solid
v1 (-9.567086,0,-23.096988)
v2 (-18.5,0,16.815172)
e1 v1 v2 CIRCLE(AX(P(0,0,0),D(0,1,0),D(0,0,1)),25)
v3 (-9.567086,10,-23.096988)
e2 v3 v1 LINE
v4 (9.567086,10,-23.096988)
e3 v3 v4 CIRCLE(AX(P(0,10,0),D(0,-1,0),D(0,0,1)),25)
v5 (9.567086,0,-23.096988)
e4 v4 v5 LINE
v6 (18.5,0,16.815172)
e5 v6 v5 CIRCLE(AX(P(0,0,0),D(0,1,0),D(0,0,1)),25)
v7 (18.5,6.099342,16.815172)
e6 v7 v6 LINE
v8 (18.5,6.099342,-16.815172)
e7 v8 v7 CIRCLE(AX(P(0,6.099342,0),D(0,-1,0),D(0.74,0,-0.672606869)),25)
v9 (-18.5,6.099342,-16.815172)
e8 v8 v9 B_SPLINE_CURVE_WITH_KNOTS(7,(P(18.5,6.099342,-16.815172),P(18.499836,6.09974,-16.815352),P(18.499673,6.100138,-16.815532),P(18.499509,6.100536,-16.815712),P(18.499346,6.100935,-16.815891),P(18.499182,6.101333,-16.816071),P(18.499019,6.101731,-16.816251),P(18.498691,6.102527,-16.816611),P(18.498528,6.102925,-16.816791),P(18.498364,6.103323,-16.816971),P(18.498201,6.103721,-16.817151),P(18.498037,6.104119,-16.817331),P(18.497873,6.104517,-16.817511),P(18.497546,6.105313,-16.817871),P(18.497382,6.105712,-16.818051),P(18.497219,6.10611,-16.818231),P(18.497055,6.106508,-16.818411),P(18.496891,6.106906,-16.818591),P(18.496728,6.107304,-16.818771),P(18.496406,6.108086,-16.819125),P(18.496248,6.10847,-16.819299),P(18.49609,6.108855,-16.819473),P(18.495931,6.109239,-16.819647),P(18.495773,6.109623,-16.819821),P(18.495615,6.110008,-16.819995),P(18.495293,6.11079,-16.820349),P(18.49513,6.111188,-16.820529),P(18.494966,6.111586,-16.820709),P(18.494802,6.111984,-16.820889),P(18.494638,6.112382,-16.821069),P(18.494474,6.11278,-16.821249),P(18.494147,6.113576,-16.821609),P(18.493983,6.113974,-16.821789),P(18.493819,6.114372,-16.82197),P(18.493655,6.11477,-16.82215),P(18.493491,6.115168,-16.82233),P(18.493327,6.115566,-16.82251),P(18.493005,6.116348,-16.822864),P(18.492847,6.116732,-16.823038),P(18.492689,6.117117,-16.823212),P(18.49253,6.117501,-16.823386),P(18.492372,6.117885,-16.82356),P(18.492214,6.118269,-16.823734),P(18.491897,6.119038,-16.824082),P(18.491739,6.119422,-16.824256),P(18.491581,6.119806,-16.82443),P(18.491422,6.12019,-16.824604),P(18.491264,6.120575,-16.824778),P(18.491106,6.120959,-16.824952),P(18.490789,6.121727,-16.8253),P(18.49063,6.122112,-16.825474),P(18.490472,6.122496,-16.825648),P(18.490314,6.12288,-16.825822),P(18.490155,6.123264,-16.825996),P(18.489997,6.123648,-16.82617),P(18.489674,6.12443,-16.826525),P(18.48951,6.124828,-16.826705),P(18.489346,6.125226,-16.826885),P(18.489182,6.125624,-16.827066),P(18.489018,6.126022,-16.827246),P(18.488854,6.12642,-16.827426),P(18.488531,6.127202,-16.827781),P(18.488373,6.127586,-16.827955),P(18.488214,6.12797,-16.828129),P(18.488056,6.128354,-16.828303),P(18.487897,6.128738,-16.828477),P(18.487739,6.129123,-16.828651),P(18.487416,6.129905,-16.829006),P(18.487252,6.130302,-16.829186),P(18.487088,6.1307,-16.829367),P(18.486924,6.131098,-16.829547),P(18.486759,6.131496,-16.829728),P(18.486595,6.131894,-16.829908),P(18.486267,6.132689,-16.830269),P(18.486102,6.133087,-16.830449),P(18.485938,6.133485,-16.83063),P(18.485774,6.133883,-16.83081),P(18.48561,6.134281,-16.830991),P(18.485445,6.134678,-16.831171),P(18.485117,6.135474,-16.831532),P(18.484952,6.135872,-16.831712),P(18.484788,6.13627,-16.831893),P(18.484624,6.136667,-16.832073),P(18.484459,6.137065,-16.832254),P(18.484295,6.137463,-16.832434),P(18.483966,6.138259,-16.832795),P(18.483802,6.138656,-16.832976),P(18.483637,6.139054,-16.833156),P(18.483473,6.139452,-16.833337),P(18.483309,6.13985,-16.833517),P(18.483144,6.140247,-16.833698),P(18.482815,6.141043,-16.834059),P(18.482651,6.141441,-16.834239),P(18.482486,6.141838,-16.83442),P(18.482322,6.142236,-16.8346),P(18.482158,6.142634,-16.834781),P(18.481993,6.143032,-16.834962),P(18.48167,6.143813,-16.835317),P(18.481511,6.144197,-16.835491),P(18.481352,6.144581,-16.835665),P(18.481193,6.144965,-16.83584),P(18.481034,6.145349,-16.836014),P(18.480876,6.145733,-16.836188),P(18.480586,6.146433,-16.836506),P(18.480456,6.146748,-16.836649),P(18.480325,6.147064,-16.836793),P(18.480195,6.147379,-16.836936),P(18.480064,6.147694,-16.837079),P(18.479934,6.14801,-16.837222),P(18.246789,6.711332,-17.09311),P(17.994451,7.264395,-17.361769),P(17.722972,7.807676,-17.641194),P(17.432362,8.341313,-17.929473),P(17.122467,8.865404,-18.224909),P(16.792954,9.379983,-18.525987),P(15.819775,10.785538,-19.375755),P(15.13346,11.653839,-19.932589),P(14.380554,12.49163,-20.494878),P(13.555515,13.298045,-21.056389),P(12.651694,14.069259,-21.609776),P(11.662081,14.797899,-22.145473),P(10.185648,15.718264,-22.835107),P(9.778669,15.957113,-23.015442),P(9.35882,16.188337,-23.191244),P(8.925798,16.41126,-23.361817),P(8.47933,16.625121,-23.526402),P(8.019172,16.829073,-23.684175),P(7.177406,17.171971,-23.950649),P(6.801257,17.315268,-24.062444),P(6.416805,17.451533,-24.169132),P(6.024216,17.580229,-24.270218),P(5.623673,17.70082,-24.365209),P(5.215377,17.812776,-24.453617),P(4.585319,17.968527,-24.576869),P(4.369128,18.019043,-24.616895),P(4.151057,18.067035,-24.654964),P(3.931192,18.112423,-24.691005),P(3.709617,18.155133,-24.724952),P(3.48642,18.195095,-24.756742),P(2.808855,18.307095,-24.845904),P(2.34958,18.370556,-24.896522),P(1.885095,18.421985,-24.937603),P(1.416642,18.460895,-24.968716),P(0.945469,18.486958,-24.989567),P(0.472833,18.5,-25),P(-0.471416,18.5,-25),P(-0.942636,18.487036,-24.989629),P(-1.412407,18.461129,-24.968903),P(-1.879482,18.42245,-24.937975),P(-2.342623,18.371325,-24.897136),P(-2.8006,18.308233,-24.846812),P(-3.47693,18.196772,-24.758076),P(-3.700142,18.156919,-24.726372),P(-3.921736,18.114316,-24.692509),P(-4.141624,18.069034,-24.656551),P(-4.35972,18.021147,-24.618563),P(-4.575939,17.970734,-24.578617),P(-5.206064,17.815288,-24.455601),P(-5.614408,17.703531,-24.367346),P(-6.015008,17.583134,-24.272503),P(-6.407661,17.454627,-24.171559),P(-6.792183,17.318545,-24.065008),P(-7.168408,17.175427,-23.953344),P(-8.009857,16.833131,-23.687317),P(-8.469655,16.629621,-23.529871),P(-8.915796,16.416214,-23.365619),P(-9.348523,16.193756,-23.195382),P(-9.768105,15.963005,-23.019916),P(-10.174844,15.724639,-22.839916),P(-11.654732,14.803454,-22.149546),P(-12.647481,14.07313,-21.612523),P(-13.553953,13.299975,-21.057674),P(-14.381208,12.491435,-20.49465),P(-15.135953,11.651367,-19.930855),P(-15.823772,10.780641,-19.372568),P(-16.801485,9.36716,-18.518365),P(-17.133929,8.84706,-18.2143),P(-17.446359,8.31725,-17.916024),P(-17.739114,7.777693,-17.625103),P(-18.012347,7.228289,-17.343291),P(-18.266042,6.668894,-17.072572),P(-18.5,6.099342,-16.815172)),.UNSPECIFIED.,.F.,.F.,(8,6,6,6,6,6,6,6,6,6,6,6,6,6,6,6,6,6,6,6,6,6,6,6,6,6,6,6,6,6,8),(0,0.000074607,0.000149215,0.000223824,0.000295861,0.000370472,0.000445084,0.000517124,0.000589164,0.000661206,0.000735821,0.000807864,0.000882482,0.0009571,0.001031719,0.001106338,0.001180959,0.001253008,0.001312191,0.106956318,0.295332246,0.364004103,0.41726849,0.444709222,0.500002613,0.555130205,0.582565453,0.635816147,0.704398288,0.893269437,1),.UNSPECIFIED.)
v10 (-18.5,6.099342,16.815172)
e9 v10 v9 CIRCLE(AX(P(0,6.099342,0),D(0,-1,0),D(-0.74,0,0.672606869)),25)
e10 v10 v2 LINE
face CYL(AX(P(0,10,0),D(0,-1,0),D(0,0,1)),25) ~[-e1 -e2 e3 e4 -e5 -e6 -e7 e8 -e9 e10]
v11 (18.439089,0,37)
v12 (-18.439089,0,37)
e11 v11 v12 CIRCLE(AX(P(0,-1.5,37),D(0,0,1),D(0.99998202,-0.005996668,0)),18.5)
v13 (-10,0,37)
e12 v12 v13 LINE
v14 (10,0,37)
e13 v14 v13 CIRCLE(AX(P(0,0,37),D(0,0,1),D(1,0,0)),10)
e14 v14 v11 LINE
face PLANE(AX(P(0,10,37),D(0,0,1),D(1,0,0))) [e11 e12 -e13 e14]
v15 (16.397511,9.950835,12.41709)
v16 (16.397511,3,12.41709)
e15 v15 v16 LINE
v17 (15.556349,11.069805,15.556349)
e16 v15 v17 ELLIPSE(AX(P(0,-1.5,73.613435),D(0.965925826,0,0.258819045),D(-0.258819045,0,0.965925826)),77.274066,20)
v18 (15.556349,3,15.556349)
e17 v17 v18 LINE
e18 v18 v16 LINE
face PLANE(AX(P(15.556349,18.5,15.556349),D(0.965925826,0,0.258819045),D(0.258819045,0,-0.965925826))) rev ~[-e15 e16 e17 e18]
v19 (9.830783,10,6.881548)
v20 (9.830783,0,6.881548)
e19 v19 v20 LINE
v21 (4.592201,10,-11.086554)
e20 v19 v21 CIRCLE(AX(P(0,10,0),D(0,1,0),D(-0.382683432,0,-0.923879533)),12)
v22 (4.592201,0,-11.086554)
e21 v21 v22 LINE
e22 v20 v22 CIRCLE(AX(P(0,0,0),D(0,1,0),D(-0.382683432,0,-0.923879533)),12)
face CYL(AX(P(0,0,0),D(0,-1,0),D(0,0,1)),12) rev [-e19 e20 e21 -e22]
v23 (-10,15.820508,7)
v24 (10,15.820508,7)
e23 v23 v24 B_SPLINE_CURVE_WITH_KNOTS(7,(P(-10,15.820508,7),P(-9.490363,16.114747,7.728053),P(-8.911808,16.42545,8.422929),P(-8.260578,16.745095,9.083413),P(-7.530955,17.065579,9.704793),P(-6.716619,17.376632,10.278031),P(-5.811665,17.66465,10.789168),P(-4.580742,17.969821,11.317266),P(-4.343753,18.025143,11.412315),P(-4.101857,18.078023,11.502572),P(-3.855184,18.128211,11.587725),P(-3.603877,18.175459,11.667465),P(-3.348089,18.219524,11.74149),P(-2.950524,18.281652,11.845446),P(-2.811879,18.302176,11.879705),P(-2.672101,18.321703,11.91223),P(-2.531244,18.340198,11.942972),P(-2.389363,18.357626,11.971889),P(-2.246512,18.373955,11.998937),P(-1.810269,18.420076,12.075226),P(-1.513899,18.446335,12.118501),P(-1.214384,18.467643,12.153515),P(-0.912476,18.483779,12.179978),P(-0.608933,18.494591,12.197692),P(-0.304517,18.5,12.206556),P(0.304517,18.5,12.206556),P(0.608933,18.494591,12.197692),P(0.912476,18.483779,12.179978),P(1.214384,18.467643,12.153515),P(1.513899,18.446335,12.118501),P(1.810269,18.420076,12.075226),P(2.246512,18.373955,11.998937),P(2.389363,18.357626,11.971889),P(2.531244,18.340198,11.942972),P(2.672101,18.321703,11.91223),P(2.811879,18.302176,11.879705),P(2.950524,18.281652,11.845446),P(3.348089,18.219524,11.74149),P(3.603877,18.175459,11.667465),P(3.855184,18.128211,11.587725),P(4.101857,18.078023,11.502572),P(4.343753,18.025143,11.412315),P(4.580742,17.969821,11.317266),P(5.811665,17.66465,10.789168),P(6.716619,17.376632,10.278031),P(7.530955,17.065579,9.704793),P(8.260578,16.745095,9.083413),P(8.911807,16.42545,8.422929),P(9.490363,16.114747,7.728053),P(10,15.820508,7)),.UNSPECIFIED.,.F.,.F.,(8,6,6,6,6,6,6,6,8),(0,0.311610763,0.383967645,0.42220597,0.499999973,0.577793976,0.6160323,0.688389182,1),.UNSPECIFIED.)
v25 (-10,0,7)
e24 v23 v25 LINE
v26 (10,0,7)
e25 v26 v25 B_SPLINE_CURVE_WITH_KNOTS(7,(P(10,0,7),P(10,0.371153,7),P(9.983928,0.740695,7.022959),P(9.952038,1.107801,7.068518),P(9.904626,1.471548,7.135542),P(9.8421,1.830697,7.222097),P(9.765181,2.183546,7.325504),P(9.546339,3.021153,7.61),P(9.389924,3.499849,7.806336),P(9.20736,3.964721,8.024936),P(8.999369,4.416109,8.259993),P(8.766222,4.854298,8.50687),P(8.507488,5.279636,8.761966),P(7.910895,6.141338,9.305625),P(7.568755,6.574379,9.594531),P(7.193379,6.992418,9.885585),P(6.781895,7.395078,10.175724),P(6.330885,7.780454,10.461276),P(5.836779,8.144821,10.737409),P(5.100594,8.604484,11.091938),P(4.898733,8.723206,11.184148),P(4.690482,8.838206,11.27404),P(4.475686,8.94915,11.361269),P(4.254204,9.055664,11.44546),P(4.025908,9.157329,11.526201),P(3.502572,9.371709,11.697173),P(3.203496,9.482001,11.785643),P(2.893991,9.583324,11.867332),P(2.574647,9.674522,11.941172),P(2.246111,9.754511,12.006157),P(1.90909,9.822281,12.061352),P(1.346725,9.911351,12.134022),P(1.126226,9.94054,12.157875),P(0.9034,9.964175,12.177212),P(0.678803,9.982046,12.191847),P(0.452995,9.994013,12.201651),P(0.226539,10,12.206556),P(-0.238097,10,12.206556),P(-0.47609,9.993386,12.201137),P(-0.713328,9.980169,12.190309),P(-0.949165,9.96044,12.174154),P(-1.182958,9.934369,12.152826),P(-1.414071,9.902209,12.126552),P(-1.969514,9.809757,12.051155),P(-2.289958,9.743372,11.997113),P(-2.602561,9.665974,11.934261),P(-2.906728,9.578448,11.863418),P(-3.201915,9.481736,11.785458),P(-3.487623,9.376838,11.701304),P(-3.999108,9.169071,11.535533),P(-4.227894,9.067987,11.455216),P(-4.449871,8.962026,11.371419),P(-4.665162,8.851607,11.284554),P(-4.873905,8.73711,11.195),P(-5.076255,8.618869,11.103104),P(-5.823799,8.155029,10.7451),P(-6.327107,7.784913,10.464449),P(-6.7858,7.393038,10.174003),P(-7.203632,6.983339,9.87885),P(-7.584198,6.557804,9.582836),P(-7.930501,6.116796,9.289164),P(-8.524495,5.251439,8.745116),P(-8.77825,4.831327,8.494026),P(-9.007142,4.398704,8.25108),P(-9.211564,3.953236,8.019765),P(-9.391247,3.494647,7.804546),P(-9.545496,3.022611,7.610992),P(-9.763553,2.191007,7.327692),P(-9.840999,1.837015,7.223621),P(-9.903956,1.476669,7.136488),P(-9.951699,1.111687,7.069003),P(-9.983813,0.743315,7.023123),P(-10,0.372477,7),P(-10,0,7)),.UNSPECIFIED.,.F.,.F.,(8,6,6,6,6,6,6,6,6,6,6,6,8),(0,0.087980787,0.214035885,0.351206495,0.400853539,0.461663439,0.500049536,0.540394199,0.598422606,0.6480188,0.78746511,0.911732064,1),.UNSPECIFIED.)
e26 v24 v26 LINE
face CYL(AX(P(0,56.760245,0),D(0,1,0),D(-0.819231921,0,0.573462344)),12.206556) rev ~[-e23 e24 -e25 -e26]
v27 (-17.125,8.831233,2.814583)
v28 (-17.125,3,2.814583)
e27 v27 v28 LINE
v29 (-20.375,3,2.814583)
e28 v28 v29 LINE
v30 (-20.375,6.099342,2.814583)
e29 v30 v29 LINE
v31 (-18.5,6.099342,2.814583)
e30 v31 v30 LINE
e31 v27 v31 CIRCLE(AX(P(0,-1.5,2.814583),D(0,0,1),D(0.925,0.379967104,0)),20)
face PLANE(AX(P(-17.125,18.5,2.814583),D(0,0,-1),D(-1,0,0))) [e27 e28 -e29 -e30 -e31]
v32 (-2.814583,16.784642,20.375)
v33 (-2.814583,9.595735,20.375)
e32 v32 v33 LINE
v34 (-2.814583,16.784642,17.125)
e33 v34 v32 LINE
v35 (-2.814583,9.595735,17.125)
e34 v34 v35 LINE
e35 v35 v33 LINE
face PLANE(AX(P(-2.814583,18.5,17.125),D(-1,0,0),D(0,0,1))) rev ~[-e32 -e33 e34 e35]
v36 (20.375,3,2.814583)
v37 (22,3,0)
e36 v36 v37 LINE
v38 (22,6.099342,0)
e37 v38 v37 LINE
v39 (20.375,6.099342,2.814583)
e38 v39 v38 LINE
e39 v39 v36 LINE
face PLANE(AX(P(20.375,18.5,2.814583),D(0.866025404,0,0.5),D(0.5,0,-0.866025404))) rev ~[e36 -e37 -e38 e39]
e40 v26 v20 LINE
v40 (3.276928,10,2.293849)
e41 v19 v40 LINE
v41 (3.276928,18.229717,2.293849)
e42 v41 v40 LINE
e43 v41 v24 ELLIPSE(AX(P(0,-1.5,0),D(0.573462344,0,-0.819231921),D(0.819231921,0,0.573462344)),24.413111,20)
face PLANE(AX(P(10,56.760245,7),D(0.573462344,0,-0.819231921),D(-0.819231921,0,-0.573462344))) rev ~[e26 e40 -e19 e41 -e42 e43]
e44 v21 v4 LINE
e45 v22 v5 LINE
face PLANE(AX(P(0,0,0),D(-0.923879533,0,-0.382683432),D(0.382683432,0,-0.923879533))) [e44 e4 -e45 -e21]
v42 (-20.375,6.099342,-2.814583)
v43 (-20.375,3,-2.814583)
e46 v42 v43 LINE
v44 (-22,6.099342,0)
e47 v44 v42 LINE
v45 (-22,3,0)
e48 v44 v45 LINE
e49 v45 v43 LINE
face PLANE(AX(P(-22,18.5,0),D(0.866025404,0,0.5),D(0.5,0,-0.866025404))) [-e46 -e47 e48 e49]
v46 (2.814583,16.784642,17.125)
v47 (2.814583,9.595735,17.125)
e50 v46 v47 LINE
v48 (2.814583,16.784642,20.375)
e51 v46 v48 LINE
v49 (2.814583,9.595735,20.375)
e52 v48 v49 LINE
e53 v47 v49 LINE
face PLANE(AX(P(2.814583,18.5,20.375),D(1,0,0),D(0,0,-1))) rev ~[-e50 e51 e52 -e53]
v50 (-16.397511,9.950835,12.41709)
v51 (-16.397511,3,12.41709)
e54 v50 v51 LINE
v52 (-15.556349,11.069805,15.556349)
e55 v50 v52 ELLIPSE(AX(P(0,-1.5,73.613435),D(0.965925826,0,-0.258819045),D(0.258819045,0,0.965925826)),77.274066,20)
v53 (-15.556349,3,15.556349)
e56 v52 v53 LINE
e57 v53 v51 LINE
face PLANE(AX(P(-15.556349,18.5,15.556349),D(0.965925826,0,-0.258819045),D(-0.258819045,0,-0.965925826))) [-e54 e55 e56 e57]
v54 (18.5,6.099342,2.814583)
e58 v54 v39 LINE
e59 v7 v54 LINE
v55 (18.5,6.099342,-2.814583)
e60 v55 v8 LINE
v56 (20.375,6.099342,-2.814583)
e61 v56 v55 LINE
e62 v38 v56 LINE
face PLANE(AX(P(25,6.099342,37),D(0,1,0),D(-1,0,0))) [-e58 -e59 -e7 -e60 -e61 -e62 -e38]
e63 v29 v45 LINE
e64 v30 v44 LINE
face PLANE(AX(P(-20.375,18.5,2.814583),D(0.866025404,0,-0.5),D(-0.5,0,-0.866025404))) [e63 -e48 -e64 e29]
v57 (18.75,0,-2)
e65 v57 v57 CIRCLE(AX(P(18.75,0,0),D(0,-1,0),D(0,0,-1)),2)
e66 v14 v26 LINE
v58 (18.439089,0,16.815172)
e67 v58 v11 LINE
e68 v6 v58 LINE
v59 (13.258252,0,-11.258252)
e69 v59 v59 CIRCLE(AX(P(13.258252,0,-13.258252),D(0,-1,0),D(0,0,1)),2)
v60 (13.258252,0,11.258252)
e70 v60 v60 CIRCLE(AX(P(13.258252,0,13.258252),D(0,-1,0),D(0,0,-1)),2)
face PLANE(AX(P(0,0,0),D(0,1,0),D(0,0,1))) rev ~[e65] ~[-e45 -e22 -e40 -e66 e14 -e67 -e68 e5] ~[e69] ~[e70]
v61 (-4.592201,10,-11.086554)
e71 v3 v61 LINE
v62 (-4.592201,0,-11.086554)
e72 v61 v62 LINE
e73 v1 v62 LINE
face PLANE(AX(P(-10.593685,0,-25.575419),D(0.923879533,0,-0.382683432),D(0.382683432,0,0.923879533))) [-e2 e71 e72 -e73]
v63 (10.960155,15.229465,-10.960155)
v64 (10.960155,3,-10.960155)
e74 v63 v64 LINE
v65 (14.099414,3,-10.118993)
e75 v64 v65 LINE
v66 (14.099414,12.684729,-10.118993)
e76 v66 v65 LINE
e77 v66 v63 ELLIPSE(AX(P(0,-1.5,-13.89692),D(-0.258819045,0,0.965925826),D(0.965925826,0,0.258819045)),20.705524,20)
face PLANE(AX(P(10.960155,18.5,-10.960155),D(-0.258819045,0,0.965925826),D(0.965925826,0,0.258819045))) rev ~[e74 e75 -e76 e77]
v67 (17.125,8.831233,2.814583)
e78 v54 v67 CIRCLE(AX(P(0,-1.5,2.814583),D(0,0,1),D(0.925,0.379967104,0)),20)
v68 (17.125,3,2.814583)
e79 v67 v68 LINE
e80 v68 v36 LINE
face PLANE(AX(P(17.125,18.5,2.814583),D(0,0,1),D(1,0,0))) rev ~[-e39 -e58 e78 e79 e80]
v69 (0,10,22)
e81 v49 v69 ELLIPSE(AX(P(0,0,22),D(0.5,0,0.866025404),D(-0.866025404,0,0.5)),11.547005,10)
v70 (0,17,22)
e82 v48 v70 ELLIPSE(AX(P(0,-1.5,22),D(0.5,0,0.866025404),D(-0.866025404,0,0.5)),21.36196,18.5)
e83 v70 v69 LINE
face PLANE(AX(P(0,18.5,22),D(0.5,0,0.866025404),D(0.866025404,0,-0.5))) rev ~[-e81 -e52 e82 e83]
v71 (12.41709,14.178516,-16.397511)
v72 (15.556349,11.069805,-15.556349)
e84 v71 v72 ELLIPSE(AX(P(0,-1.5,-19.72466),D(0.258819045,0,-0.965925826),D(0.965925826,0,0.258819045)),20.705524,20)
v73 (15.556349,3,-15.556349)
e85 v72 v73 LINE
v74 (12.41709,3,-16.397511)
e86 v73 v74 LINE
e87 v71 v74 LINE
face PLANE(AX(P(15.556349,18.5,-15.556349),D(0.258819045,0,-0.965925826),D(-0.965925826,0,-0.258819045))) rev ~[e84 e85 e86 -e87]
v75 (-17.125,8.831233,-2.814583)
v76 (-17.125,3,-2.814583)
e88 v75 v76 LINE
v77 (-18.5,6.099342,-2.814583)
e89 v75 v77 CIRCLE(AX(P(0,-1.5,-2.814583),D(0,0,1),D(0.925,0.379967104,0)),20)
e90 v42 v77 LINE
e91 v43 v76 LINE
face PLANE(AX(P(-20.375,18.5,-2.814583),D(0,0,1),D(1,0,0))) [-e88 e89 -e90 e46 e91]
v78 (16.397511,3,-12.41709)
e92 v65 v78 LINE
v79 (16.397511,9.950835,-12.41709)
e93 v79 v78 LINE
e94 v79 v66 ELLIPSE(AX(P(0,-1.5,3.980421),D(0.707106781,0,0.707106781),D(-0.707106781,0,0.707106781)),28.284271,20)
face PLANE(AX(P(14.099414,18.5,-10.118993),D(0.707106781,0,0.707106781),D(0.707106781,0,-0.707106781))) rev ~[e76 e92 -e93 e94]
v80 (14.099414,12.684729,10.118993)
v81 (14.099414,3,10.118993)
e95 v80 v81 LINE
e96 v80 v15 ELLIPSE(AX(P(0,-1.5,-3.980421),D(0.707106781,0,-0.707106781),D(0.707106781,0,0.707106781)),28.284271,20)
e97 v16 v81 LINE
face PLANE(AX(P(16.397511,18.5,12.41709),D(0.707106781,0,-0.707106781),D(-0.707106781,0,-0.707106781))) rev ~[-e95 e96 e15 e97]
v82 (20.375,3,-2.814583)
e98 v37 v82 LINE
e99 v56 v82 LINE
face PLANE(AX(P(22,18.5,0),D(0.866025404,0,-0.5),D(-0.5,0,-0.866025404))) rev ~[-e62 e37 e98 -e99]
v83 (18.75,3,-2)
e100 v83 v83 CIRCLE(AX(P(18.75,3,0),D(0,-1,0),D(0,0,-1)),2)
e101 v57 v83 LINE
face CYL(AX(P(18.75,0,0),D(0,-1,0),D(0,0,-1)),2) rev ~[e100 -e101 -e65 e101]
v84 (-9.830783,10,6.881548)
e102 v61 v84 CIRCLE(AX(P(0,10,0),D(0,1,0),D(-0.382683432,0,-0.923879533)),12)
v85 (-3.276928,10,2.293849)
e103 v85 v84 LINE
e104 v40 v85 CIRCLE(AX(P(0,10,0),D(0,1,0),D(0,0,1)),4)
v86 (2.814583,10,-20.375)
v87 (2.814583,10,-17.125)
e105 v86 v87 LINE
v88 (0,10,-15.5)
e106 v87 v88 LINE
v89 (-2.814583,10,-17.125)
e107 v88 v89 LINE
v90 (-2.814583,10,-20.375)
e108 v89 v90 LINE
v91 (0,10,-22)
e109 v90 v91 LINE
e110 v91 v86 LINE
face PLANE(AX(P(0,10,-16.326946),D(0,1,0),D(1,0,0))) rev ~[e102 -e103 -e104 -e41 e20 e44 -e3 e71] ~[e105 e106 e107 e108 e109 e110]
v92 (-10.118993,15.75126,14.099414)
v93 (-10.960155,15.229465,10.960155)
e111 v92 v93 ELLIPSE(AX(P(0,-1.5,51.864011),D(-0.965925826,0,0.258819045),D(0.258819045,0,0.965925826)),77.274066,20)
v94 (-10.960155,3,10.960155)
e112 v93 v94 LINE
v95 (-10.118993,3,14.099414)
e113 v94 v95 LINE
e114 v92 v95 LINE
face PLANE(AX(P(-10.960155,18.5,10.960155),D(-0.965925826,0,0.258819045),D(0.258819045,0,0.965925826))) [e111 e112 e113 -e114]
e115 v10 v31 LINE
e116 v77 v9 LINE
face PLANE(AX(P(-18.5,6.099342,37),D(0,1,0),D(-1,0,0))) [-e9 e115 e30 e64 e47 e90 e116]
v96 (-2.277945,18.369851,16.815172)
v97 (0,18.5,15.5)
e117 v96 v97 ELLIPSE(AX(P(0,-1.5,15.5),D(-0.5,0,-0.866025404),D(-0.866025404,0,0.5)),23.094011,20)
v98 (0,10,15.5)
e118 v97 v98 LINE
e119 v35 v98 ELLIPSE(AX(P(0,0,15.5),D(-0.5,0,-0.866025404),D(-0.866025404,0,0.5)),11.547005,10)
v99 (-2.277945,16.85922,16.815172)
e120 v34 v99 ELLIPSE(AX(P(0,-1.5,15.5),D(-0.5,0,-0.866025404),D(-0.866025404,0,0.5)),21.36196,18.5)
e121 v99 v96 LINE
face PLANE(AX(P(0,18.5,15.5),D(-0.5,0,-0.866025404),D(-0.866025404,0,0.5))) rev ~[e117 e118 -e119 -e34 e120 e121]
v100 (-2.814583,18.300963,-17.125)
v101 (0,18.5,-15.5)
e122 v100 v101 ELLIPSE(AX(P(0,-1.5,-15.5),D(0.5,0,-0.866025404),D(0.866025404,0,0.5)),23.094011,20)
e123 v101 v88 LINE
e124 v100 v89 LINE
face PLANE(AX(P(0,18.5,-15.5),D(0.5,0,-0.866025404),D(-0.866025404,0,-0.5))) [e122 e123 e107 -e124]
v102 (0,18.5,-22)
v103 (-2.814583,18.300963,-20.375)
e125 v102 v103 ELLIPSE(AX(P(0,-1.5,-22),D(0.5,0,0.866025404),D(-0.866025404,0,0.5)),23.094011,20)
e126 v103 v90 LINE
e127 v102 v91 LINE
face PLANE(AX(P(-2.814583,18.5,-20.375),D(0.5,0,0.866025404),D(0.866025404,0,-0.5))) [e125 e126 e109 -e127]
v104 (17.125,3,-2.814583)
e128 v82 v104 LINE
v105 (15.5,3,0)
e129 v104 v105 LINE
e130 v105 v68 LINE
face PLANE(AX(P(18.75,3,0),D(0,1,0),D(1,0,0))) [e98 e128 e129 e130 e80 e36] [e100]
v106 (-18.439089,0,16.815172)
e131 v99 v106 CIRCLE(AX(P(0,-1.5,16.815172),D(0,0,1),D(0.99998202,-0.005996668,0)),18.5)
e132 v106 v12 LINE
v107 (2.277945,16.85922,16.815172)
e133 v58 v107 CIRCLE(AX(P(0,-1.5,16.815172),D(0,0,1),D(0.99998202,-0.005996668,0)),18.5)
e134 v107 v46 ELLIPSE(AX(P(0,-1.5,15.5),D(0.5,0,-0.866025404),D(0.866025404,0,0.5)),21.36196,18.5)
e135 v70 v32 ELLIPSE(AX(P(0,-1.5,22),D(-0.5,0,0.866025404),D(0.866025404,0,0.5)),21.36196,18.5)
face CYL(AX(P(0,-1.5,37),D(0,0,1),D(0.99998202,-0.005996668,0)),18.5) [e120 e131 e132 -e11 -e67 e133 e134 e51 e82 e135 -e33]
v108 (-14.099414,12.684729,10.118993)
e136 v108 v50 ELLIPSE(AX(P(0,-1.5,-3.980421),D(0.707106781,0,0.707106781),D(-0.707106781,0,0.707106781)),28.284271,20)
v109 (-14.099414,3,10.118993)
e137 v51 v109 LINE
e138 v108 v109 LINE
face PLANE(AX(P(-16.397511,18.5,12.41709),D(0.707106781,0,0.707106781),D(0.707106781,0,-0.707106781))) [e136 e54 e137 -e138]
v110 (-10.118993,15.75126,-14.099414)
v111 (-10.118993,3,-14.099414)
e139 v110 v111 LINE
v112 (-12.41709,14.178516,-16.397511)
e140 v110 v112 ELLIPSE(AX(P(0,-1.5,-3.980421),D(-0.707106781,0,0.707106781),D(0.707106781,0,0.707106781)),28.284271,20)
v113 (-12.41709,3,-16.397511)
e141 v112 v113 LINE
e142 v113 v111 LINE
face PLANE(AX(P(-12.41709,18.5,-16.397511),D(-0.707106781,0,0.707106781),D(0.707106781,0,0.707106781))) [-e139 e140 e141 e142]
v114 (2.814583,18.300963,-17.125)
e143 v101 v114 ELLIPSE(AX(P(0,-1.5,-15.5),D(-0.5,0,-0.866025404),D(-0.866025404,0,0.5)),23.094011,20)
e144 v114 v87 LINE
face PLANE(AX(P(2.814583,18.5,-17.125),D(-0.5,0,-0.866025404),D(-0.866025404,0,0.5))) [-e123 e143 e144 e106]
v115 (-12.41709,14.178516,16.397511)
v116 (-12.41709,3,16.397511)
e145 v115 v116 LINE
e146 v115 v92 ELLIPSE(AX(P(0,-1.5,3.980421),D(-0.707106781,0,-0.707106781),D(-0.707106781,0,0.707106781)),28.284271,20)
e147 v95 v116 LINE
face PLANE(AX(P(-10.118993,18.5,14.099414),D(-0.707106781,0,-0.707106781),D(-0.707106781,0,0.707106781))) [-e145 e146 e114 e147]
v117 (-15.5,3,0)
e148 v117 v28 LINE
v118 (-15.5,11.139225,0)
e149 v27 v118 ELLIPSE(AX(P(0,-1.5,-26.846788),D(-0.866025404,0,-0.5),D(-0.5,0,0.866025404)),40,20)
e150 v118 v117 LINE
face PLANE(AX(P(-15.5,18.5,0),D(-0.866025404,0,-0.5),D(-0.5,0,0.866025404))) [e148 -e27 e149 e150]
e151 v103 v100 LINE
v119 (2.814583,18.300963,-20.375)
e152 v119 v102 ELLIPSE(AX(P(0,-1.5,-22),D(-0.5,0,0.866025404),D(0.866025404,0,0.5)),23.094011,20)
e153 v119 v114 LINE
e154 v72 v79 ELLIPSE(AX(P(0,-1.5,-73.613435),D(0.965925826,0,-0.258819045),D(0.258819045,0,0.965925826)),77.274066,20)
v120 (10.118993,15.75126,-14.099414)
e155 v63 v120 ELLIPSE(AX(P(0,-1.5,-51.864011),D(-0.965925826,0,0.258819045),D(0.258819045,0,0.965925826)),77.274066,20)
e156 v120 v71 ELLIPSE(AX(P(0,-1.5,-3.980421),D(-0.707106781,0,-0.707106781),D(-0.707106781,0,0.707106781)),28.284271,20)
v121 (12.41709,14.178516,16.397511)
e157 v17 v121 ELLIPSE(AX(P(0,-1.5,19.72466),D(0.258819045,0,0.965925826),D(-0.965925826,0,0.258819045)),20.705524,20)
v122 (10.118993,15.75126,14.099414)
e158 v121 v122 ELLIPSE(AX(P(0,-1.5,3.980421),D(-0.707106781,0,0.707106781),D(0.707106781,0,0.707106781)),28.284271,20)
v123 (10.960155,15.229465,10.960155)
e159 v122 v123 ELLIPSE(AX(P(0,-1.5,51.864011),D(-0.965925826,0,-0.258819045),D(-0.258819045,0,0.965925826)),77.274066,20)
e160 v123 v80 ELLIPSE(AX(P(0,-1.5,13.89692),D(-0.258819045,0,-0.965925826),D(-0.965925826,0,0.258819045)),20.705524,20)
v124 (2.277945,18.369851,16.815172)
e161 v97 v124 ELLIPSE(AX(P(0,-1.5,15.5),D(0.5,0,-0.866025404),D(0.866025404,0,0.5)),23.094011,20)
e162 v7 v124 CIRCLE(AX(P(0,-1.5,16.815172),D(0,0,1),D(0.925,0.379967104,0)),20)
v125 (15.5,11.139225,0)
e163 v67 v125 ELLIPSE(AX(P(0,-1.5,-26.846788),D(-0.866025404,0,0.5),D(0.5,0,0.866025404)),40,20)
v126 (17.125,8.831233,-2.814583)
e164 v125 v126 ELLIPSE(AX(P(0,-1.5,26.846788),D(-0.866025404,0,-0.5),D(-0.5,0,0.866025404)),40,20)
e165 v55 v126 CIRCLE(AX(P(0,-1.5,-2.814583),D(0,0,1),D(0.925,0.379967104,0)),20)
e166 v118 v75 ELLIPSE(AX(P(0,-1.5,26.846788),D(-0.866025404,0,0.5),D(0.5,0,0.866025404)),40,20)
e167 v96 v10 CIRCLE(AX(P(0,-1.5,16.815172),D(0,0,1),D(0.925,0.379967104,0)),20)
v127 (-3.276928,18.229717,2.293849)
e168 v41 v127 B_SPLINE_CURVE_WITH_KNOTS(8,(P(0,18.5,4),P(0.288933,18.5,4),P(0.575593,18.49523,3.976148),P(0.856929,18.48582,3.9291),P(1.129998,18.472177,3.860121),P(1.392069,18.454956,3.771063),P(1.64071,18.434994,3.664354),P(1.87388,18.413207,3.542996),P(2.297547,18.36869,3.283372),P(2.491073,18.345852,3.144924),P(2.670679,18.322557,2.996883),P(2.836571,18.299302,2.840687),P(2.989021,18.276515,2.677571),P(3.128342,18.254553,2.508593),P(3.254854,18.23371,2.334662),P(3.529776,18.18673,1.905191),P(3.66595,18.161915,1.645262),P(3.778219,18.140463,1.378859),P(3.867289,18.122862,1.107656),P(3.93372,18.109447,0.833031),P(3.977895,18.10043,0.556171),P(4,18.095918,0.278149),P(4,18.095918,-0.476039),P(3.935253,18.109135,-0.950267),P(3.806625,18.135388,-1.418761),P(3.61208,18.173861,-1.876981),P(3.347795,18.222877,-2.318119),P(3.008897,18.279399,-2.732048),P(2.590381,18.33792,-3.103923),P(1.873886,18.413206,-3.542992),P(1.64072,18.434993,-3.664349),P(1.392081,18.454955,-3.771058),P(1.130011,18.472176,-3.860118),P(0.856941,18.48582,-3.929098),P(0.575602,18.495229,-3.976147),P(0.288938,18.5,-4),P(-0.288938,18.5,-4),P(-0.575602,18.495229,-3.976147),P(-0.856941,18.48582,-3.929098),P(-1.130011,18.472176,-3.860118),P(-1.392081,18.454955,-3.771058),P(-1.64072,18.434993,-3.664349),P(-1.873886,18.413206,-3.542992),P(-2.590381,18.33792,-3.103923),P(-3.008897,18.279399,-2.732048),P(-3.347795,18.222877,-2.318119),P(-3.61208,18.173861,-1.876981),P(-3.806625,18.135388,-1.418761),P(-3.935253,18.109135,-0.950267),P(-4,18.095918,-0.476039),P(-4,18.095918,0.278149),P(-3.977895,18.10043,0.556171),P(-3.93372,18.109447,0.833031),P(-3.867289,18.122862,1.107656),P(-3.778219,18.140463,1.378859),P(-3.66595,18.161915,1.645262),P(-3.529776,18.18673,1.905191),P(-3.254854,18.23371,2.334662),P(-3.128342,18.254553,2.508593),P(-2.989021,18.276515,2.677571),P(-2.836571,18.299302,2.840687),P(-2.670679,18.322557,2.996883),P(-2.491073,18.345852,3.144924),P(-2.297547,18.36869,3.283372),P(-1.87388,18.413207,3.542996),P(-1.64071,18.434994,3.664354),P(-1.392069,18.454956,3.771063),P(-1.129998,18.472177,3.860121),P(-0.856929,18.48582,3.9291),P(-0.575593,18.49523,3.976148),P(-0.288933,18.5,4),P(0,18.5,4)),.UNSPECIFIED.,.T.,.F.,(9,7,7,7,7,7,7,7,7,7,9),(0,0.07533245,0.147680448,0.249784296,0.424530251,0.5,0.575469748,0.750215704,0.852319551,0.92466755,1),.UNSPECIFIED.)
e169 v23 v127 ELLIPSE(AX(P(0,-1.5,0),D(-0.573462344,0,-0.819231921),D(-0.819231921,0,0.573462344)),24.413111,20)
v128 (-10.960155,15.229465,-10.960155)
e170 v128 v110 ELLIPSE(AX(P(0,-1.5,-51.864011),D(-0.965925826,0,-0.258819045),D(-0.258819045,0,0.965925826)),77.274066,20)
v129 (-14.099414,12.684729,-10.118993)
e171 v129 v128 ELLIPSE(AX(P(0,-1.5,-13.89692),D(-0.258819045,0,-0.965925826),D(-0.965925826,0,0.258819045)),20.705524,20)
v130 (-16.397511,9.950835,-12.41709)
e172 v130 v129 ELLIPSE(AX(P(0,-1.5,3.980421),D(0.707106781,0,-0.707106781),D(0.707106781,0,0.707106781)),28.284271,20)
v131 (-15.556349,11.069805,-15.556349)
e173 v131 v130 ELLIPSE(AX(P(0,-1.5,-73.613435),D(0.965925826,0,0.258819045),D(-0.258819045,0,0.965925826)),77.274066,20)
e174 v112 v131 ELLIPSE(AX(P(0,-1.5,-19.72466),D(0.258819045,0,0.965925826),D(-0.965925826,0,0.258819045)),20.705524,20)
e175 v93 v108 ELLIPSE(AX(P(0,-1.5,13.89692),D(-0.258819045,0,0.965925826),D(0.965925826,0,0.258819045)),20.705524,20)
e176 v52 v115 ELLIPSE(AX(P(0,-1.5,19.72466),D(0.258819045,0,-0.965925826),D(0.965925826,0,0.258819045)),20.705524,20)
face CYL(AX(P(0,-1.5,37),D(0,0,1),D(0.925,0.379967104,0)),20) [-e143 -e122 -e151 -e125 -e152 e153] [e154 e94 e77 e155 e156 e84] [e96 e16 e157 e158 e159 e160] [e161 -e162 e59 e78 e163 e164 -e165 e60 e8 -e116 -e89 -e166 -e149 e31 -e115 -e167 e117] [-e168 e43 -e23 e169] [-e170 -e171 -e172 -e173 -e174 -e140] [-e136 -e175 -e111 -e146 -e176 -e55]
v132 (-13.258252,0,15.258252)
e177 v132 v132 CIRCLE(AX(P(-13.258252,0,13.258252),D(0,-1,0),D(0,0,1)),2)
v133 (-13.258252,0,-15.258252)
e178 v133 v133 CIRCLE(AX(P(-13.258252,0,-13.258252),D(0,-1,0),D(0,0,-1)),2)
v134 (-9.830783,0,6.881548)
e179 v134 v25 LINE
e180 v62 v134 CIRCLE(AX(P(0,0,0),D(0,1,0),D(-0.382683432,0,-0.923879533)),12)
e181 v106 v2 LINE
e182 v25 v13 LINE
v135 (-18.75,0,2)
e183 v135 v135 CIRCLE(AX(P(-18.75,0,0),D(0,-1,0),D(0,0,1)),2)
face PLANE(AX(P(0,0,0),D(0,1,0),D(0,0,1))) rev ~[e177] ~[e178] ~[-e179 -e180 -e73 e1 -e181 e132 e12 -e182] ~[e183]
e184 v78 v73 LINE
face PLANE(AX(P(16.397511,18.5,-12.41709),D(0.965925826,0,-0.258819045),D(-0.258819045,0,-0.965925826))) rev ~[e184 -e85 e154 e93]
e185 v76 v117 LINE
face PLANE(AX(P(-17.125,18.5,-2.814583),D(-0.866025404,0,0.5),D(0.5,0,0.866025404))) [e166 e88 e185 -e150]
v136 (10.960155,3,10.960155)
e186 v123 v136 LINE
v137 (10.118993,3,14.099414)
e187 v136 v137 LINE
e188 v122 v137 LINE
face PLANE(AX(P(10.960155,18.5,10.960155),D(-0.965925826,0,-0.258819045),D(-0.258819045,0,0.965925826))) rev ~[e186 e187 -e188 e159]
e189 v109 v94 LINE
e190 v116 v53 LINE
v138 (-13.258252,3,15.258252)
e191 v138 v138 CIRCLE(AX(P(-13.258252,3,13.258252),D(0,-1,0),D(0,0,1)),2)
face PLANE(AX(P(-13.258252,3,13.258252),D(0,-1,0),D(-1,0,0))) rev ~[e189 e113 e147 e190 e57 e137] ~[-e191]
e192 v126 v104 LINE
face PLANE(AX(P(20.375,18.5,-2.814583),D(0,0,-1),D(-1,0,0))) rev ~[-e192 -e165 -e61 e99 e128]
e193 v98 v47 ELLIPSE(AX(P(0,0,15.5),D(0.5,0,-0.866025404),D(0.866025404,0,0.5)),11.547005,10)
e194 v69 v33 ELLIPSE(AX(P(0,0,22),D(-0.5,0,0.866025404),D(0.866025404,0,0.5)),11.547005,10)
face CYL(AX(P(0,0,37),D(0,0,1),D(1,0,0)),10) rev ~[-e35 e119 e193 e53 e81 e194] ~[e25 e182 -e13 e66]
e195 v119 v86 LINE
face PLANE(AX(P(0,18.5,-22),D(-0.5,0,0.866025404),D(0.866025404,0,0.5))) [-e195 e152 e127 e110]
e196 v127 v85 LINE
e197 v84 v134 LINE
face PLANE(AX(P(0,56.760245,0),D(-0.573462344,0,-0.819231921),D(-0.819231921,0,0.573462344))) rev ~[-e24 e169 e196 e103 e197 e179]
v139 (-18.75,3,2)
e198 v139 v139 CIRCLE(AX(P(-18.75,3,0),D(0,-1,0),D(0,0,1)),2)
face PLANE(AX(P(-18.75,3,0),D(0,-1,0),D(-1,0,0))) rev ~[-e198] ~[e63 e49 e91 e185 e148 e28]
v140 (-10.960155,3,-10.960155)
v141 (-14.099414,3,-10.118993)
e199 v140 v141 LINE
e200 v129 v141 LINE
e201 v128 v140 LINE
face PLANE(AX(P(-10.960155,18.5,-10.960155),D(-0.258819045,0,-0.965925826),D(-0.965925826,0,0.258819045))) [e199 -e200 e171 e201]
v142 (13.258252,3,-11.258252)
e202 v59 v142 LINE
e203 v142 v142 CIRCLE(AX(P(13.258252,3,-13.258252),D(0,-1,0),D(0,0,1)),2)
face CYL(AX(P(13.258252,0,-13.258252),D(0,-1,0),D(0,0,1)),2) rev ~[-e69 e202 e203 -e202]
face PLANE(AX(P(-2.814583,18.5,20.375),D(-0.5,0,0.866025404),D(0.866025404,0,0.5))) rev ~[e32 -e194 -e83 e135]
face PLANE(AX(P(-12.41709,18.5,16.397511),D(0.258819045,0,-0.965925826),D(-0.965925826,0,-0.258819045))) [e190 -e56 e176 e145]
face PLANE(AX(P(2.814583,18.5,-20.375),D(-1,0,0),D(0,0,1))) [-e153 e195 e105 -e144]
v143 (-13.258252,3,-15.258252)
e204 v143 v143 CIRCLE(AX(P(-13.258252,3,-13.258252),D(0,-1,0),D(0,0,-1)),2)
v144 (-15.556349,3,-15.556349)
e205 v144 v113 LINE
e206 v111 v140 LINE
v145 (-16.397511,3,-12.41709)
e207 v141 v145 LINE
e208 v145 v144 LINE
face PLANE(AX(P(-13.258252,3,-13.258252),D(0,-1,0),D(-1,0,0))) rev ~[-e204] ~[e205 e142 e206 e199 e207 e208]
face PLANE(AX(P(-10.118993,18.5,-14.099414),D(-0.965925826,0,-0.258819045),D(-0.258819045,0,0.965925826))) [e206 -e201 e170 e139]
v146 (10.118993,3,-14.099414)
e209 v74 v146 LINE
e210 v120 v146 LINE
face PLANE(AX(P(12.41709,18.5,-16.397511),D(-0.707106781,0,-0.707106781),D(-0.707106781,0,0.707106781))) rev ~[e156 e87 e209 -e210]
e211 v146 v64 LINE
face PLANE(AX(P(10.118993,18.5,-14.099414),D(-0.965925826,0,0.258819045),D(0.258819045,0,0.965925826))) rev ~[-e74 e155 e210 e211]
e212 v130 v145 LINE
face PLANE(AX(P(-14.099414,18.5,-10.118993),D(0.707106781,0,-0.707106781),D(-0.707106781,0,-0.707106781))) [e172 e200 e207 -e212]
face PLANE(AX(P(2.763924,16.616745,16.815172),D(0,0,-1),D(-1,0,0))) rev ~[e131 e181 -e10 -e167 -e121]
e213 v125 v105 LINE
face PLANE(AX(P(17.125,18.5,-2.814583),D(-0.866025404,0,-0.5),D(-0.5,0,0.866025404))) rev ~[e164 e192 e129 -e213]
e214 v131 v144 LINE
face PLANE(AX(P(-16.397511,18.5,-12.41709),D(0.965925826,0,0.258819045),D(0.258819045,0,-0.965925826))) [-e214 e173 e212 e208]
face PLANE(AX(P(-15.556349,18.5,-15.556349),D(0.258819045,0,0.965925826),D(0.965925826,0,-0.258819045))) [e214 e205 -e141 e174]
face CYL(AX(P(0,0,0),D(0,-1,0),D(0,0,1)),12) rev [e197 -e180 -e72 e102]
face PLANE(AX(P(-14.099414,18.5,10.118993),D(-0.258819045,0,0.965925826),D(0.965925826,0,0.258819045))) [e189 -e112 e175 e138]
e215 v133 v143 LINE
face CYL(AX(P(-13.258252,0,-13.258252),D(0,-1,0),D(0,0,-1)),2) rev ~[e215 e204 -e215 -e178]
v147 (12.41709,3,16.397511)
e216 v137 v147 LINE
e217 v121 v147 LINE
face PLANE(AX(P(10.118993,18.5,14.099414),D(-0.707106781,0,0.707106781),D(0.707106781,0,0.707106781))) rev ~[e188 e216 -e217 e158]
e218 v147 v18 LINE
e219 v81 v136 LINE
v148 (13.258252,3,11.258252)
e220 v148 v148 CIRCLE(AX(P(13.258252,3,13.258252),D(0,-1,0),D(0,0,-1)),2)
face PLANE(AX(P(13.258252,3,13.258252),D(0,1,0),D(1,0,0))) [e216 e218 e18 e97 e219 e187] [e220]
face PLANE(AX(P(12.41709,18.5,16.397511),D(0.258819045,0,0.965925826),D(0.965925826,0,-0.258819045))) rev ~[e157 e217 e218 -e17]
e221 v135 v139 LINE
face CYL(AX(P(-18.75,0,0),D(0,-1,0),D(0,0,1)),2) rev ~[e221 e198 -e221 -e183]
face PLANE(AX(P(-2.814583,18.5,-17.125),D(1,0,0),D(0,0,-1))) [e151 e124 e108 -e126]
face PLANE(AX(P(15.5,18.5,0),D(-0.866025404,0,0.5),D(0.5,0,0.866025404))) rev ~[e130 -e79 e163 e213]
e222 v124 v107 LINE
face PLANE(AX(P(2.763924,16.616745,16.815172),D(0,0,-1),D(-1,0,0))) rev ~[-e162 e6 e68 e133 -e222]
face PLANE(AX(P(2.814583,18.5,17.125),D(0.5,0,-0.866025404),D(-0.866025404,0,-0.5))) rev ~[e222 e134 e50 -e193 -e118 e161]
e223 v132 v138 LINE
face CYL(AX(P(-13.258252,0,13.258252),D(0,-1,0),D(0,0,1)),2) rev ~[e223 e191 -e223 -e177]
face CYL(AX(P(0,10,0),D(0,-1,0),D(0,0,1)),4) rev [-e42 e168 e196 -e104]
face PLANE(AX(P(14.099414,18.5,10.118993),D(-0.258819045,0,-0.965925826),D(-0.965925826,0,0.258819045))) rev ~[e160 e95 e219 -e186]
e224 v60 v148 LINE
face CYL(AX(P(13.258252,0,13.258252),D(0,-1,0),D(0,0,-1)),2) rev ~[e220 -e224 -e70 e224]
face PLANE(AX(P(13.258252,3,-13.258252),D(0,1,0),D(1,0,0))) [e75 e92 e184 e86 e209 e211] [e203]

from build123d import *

# Parameters (mm, degrees)
SKETCH_1_R               = 25
SKETCH_1_R_2             = 12
EXTRUDE_1_DEPTH          = 10
SKETCH_2_R               = 25
SKETCH_2_R_2             = 4
EXTRUDE_2_DEPTH          = 10
SKETCH_5_W               = 37
SKETCH_5_H               = 20
EXTRUDE_3_DEPTH          = 25
CUT_EXTRUDE_1_DEPTH      = 20.184828
SKETCH_8_R               = 2
CUT_EXTRUDE_2_DEPTH      = 49.928519291
CUT_EXTRUDE_4_DEPTH      = 10
CUT_EXTRUDE_5_DEPTH      = 70.778220126
CUT_EXTRUDE_6_DEPTH      = 15.5
SKETCH_12_R              = 10
CUT_EXTRUDE_7_DEPTH      = 30
CUT_EXTRUDE_8_DEPTH      = 46.760244912
CUT_EXTRUDE_8_DEPTH_BACK = 46.760244912


with BuildPart() as part:
    # 草图1 → 凸台-拉伸1 (new body)
    with BuildSketch(Plane(origin=(0, 0, 0), x_dir=(1, 0, 0), z_dir=(0, 1, 0))):
        with Locations(Location((0, 0, 0), (0, 0, 270))):
            Circle(SKETCH_1_R)
        with Locations(Location((0, 0, 0), (0, 0, 270))):
            Circle(SKETCH_1_R_2, mode=Mode.SUBTRACT)
    extrude(amount=EXTRUDE_1_DEPTH)

    # 草图2 → 凸台-拉伸2 (add)
    with BuildSketch(Plane(origin=(0, 10, 0), x_dir=(1, 0, 0), z_dir=(0, 1, 0))):
        with Locations(Location((0, 0, 0), (0, 0, 270))):
            Circle(SKETCH_2_R)
        with Locations(Location((0, 0, 0), (0, 0, 270))):
            Circle(SKETCH_2_R_2, mode=Mode.SUBTRACT)
    extrude(amount=EXTRUDE_2_DEPTH)

    # 草图5 → 凸台-拉伸3 (add)
    with BuildSketch(Plane.XY.offset(12)):
        with Locations((0, 10)):
            Rectangle(SKETCH_5_W, SKETCH_5_H)
    extrude(amount=EXTRUDE_3_DEPTH)

    # 草图6 → 切除-拉伸1 (cut)
    with BuildSketch(Plane.XY.offset(37)):
        with BuildLine():
            Line((-18.490572983, -0.909482628), (-28.986413715, -0.909482628))
            Line((-28.986413715, -0.909482628), (-28.986413715, 31.85575571))
            Line((-28.986413715, 31.85575571), (34.685567791, 31.85575571))
            Line((34.685567791, 31.85575571), (34.685567791, -1.610938363))
            Line((34.685567791, -1.610938363), (18.499667367, -1.610938363))
            ThreePointArc((18.499667367, -1.610938363), (0.350757344, 16.996674547), (-18.490572983, -0.909482628))
        make_face()
    extrude(amount=-CUT_EXTRUDE_1_DEPTH, mode=Mode.SUBTRACT)

    # 草图8 → 切除-拉伸2 (cut, through all)
    with BuildSketch(Plane.XZ):
        with Locations(Location((18.75, 0, 0), (0, 0, 270))):
            Circle(SKETCH_8_R)
        with Locations(Location((13.258252147, 13.258252147, 0), (0, 0, 270))):
            Circle(SKETCH_8_R)
        with Locations(Location((0, 18.75, 0), (0, 0, 284.666911028))):
            Circle(SKETCH_8_R)
        with Locations(Location((-18.75, 0, 0), (0, 0, 90))):
            Circle(SKETCH_8_R)
        with Locations(Location((-13.258252147, 13.258252147, 0), (0, 0, 90))):
            Circle(SKETCH_8_R)
        with Locations(Location((13.258252147, -13.258252147, 0), (0, 0, 90))):
            Circle(SKETCH_8_R)
        with Locations(Location((0, -18.75, 0), (0, 0, 270))):
            Circle(SKETCH_8_R)
        with Locations(Location((-13.258252147, -13.258252147, 0), (0, 0, 270))):
            Circle(SKETCH_8_R)
    extrude(amount=-CUT_EXTRUDE_2_DEPTH, mode=Mode.SUBTRACT)

    # 草图9 → 切除-拉伸4 (cut)
    with BuildSketch(Plane(origin=(0, 0, 0), x_dir=(1, 0, 0), z_dir=(0, 1, 0))):
        Polygon((0, 0), (10.593685304, 25.575418736), (-10.593685304, 25.575418736), align=None)
    extrude(amount=CUT_EXTRUDE_4_DEPTH, mode=Mode.SUBTRACT)

    # 草图10 → 切除-拉伸5 (cut, through all)
    with BuildSketch(Plane.XY.offset(37)):
        with BuildLine():
            Line((-18.5, 6.099342077), (-25, 6.099342077))
            Line((-25, 6.099342077), (-25, 20))
            Line((-25, 20), (25, 20))
            Line((25, 20), (25, 6.099342077))
            Line((25, 6.099342077), (18.5, 6.099342077))
            ThreePointArc((18.5, 6.099342077), (0, 18.5), (-18.5, 6.099342077))
        make_face()
    extrude(amount=-CUT_EXTRUDE_5_DEPTH, mode=Mode.SUBTRACT)

    # 草图11 → 切除-拉伸6 (cut)
    with BuildSketch(Plane(origin=(0, 18.5, 0), x_dir=(1, 0, 0), z_dir=(0, 1, 0))):
        Polygon((0, -15.5), (-2.814582562, -17.125), (-2.814582562, -20.375), (0, -22), (2.814582562, -20.375), (2.814582562, -17.125), align=None)
        Polygon((-14.099414044, -10.118993212), (-10.960155108, -10.960155108), (-10.118993212, -14.099414044), (-12.417090251, -16.397511083), (-15.556349186, -15.556349186), (-16.397511083, -12.417090251), align=None)
        Polygon((10.960155108, -10.960155108), (10.118993212, -14.099414044), (12.417090251, -16.397511083), (15.556349186, -15.556349186), (16.397511083, -12.417090251), (14.099414044, -10.118993212), align=None)
        Polygon((-10.118993212, 14.099414044), (-10.960155108, 10.960155108), (-14.099414044, 10.118993212), (-16.397511083, 12.417090251), (-15.556349186, 15.556349186), (-12.417090251, 16.397511083), align=None)
        Polygon((-17.125, 2.814582562), (-15.5, 0), (-17.125, -2.814582562), (-20.375, -2.814582562), (-22, 0), (-20.375, 2.814582562), align=None)
        Polygon((10.960155108, 10.960155108), (14.099414044, 10.118993212), (16.397511083, 12.417090251), (15.556349186, 15.556349186), (12.417090251, 16.397511083), (10.118993212, 14.099414044), align=None)
        Polygon((15.5, 0), (17.125, -2.814582562), (20.375, -2.814582562), (22, 0), (20.375, 2.814582562), (17.125, 2.814582562), align=None)
        Polygon((2.814582562, 17.125), (0, 15.5), (-2.814582562, 17.125), (-2.814582562, 20.375), (0, 22), (2.814582562, 20.375), align=None)
    extrude(amount=-CUT_EXTRUDE_6_DEPTH, mode=Mode.SUBTRACT)

    # 草图12 → 切除-拉伸7 (cut)
    with BuildSketch(Plane.XY.offset(37)):
        Circle(SKETCH_12_R)
    extrude(amount=-CUT_EXTRUDE_7_DEPTH, mode=Mode.SUBTRACT)

    # 草图13 → 切除-拉伸8 (cut, two sides: drawn at the far end of the back side and taken through both)
    with BuildSketch(Plane.XZ.offset(-10).offset(-CUT_EXTRUDE_8_DEPTH_BACK)):
        with BuildLine():
            Line((0, 0), (-10, 7))
            ThreePointArc((-10, 7), (0, 12.206555616), (10, 7))
            Line((10, 7), (0, 0))
        make_face()
    extrude(amount=CUT_EXTRUDE_8_DEPTH + CUT_EXTRUDE_8_DEPTH_BACK, mode=Mode.SUBTRACT)


solid = part.part
